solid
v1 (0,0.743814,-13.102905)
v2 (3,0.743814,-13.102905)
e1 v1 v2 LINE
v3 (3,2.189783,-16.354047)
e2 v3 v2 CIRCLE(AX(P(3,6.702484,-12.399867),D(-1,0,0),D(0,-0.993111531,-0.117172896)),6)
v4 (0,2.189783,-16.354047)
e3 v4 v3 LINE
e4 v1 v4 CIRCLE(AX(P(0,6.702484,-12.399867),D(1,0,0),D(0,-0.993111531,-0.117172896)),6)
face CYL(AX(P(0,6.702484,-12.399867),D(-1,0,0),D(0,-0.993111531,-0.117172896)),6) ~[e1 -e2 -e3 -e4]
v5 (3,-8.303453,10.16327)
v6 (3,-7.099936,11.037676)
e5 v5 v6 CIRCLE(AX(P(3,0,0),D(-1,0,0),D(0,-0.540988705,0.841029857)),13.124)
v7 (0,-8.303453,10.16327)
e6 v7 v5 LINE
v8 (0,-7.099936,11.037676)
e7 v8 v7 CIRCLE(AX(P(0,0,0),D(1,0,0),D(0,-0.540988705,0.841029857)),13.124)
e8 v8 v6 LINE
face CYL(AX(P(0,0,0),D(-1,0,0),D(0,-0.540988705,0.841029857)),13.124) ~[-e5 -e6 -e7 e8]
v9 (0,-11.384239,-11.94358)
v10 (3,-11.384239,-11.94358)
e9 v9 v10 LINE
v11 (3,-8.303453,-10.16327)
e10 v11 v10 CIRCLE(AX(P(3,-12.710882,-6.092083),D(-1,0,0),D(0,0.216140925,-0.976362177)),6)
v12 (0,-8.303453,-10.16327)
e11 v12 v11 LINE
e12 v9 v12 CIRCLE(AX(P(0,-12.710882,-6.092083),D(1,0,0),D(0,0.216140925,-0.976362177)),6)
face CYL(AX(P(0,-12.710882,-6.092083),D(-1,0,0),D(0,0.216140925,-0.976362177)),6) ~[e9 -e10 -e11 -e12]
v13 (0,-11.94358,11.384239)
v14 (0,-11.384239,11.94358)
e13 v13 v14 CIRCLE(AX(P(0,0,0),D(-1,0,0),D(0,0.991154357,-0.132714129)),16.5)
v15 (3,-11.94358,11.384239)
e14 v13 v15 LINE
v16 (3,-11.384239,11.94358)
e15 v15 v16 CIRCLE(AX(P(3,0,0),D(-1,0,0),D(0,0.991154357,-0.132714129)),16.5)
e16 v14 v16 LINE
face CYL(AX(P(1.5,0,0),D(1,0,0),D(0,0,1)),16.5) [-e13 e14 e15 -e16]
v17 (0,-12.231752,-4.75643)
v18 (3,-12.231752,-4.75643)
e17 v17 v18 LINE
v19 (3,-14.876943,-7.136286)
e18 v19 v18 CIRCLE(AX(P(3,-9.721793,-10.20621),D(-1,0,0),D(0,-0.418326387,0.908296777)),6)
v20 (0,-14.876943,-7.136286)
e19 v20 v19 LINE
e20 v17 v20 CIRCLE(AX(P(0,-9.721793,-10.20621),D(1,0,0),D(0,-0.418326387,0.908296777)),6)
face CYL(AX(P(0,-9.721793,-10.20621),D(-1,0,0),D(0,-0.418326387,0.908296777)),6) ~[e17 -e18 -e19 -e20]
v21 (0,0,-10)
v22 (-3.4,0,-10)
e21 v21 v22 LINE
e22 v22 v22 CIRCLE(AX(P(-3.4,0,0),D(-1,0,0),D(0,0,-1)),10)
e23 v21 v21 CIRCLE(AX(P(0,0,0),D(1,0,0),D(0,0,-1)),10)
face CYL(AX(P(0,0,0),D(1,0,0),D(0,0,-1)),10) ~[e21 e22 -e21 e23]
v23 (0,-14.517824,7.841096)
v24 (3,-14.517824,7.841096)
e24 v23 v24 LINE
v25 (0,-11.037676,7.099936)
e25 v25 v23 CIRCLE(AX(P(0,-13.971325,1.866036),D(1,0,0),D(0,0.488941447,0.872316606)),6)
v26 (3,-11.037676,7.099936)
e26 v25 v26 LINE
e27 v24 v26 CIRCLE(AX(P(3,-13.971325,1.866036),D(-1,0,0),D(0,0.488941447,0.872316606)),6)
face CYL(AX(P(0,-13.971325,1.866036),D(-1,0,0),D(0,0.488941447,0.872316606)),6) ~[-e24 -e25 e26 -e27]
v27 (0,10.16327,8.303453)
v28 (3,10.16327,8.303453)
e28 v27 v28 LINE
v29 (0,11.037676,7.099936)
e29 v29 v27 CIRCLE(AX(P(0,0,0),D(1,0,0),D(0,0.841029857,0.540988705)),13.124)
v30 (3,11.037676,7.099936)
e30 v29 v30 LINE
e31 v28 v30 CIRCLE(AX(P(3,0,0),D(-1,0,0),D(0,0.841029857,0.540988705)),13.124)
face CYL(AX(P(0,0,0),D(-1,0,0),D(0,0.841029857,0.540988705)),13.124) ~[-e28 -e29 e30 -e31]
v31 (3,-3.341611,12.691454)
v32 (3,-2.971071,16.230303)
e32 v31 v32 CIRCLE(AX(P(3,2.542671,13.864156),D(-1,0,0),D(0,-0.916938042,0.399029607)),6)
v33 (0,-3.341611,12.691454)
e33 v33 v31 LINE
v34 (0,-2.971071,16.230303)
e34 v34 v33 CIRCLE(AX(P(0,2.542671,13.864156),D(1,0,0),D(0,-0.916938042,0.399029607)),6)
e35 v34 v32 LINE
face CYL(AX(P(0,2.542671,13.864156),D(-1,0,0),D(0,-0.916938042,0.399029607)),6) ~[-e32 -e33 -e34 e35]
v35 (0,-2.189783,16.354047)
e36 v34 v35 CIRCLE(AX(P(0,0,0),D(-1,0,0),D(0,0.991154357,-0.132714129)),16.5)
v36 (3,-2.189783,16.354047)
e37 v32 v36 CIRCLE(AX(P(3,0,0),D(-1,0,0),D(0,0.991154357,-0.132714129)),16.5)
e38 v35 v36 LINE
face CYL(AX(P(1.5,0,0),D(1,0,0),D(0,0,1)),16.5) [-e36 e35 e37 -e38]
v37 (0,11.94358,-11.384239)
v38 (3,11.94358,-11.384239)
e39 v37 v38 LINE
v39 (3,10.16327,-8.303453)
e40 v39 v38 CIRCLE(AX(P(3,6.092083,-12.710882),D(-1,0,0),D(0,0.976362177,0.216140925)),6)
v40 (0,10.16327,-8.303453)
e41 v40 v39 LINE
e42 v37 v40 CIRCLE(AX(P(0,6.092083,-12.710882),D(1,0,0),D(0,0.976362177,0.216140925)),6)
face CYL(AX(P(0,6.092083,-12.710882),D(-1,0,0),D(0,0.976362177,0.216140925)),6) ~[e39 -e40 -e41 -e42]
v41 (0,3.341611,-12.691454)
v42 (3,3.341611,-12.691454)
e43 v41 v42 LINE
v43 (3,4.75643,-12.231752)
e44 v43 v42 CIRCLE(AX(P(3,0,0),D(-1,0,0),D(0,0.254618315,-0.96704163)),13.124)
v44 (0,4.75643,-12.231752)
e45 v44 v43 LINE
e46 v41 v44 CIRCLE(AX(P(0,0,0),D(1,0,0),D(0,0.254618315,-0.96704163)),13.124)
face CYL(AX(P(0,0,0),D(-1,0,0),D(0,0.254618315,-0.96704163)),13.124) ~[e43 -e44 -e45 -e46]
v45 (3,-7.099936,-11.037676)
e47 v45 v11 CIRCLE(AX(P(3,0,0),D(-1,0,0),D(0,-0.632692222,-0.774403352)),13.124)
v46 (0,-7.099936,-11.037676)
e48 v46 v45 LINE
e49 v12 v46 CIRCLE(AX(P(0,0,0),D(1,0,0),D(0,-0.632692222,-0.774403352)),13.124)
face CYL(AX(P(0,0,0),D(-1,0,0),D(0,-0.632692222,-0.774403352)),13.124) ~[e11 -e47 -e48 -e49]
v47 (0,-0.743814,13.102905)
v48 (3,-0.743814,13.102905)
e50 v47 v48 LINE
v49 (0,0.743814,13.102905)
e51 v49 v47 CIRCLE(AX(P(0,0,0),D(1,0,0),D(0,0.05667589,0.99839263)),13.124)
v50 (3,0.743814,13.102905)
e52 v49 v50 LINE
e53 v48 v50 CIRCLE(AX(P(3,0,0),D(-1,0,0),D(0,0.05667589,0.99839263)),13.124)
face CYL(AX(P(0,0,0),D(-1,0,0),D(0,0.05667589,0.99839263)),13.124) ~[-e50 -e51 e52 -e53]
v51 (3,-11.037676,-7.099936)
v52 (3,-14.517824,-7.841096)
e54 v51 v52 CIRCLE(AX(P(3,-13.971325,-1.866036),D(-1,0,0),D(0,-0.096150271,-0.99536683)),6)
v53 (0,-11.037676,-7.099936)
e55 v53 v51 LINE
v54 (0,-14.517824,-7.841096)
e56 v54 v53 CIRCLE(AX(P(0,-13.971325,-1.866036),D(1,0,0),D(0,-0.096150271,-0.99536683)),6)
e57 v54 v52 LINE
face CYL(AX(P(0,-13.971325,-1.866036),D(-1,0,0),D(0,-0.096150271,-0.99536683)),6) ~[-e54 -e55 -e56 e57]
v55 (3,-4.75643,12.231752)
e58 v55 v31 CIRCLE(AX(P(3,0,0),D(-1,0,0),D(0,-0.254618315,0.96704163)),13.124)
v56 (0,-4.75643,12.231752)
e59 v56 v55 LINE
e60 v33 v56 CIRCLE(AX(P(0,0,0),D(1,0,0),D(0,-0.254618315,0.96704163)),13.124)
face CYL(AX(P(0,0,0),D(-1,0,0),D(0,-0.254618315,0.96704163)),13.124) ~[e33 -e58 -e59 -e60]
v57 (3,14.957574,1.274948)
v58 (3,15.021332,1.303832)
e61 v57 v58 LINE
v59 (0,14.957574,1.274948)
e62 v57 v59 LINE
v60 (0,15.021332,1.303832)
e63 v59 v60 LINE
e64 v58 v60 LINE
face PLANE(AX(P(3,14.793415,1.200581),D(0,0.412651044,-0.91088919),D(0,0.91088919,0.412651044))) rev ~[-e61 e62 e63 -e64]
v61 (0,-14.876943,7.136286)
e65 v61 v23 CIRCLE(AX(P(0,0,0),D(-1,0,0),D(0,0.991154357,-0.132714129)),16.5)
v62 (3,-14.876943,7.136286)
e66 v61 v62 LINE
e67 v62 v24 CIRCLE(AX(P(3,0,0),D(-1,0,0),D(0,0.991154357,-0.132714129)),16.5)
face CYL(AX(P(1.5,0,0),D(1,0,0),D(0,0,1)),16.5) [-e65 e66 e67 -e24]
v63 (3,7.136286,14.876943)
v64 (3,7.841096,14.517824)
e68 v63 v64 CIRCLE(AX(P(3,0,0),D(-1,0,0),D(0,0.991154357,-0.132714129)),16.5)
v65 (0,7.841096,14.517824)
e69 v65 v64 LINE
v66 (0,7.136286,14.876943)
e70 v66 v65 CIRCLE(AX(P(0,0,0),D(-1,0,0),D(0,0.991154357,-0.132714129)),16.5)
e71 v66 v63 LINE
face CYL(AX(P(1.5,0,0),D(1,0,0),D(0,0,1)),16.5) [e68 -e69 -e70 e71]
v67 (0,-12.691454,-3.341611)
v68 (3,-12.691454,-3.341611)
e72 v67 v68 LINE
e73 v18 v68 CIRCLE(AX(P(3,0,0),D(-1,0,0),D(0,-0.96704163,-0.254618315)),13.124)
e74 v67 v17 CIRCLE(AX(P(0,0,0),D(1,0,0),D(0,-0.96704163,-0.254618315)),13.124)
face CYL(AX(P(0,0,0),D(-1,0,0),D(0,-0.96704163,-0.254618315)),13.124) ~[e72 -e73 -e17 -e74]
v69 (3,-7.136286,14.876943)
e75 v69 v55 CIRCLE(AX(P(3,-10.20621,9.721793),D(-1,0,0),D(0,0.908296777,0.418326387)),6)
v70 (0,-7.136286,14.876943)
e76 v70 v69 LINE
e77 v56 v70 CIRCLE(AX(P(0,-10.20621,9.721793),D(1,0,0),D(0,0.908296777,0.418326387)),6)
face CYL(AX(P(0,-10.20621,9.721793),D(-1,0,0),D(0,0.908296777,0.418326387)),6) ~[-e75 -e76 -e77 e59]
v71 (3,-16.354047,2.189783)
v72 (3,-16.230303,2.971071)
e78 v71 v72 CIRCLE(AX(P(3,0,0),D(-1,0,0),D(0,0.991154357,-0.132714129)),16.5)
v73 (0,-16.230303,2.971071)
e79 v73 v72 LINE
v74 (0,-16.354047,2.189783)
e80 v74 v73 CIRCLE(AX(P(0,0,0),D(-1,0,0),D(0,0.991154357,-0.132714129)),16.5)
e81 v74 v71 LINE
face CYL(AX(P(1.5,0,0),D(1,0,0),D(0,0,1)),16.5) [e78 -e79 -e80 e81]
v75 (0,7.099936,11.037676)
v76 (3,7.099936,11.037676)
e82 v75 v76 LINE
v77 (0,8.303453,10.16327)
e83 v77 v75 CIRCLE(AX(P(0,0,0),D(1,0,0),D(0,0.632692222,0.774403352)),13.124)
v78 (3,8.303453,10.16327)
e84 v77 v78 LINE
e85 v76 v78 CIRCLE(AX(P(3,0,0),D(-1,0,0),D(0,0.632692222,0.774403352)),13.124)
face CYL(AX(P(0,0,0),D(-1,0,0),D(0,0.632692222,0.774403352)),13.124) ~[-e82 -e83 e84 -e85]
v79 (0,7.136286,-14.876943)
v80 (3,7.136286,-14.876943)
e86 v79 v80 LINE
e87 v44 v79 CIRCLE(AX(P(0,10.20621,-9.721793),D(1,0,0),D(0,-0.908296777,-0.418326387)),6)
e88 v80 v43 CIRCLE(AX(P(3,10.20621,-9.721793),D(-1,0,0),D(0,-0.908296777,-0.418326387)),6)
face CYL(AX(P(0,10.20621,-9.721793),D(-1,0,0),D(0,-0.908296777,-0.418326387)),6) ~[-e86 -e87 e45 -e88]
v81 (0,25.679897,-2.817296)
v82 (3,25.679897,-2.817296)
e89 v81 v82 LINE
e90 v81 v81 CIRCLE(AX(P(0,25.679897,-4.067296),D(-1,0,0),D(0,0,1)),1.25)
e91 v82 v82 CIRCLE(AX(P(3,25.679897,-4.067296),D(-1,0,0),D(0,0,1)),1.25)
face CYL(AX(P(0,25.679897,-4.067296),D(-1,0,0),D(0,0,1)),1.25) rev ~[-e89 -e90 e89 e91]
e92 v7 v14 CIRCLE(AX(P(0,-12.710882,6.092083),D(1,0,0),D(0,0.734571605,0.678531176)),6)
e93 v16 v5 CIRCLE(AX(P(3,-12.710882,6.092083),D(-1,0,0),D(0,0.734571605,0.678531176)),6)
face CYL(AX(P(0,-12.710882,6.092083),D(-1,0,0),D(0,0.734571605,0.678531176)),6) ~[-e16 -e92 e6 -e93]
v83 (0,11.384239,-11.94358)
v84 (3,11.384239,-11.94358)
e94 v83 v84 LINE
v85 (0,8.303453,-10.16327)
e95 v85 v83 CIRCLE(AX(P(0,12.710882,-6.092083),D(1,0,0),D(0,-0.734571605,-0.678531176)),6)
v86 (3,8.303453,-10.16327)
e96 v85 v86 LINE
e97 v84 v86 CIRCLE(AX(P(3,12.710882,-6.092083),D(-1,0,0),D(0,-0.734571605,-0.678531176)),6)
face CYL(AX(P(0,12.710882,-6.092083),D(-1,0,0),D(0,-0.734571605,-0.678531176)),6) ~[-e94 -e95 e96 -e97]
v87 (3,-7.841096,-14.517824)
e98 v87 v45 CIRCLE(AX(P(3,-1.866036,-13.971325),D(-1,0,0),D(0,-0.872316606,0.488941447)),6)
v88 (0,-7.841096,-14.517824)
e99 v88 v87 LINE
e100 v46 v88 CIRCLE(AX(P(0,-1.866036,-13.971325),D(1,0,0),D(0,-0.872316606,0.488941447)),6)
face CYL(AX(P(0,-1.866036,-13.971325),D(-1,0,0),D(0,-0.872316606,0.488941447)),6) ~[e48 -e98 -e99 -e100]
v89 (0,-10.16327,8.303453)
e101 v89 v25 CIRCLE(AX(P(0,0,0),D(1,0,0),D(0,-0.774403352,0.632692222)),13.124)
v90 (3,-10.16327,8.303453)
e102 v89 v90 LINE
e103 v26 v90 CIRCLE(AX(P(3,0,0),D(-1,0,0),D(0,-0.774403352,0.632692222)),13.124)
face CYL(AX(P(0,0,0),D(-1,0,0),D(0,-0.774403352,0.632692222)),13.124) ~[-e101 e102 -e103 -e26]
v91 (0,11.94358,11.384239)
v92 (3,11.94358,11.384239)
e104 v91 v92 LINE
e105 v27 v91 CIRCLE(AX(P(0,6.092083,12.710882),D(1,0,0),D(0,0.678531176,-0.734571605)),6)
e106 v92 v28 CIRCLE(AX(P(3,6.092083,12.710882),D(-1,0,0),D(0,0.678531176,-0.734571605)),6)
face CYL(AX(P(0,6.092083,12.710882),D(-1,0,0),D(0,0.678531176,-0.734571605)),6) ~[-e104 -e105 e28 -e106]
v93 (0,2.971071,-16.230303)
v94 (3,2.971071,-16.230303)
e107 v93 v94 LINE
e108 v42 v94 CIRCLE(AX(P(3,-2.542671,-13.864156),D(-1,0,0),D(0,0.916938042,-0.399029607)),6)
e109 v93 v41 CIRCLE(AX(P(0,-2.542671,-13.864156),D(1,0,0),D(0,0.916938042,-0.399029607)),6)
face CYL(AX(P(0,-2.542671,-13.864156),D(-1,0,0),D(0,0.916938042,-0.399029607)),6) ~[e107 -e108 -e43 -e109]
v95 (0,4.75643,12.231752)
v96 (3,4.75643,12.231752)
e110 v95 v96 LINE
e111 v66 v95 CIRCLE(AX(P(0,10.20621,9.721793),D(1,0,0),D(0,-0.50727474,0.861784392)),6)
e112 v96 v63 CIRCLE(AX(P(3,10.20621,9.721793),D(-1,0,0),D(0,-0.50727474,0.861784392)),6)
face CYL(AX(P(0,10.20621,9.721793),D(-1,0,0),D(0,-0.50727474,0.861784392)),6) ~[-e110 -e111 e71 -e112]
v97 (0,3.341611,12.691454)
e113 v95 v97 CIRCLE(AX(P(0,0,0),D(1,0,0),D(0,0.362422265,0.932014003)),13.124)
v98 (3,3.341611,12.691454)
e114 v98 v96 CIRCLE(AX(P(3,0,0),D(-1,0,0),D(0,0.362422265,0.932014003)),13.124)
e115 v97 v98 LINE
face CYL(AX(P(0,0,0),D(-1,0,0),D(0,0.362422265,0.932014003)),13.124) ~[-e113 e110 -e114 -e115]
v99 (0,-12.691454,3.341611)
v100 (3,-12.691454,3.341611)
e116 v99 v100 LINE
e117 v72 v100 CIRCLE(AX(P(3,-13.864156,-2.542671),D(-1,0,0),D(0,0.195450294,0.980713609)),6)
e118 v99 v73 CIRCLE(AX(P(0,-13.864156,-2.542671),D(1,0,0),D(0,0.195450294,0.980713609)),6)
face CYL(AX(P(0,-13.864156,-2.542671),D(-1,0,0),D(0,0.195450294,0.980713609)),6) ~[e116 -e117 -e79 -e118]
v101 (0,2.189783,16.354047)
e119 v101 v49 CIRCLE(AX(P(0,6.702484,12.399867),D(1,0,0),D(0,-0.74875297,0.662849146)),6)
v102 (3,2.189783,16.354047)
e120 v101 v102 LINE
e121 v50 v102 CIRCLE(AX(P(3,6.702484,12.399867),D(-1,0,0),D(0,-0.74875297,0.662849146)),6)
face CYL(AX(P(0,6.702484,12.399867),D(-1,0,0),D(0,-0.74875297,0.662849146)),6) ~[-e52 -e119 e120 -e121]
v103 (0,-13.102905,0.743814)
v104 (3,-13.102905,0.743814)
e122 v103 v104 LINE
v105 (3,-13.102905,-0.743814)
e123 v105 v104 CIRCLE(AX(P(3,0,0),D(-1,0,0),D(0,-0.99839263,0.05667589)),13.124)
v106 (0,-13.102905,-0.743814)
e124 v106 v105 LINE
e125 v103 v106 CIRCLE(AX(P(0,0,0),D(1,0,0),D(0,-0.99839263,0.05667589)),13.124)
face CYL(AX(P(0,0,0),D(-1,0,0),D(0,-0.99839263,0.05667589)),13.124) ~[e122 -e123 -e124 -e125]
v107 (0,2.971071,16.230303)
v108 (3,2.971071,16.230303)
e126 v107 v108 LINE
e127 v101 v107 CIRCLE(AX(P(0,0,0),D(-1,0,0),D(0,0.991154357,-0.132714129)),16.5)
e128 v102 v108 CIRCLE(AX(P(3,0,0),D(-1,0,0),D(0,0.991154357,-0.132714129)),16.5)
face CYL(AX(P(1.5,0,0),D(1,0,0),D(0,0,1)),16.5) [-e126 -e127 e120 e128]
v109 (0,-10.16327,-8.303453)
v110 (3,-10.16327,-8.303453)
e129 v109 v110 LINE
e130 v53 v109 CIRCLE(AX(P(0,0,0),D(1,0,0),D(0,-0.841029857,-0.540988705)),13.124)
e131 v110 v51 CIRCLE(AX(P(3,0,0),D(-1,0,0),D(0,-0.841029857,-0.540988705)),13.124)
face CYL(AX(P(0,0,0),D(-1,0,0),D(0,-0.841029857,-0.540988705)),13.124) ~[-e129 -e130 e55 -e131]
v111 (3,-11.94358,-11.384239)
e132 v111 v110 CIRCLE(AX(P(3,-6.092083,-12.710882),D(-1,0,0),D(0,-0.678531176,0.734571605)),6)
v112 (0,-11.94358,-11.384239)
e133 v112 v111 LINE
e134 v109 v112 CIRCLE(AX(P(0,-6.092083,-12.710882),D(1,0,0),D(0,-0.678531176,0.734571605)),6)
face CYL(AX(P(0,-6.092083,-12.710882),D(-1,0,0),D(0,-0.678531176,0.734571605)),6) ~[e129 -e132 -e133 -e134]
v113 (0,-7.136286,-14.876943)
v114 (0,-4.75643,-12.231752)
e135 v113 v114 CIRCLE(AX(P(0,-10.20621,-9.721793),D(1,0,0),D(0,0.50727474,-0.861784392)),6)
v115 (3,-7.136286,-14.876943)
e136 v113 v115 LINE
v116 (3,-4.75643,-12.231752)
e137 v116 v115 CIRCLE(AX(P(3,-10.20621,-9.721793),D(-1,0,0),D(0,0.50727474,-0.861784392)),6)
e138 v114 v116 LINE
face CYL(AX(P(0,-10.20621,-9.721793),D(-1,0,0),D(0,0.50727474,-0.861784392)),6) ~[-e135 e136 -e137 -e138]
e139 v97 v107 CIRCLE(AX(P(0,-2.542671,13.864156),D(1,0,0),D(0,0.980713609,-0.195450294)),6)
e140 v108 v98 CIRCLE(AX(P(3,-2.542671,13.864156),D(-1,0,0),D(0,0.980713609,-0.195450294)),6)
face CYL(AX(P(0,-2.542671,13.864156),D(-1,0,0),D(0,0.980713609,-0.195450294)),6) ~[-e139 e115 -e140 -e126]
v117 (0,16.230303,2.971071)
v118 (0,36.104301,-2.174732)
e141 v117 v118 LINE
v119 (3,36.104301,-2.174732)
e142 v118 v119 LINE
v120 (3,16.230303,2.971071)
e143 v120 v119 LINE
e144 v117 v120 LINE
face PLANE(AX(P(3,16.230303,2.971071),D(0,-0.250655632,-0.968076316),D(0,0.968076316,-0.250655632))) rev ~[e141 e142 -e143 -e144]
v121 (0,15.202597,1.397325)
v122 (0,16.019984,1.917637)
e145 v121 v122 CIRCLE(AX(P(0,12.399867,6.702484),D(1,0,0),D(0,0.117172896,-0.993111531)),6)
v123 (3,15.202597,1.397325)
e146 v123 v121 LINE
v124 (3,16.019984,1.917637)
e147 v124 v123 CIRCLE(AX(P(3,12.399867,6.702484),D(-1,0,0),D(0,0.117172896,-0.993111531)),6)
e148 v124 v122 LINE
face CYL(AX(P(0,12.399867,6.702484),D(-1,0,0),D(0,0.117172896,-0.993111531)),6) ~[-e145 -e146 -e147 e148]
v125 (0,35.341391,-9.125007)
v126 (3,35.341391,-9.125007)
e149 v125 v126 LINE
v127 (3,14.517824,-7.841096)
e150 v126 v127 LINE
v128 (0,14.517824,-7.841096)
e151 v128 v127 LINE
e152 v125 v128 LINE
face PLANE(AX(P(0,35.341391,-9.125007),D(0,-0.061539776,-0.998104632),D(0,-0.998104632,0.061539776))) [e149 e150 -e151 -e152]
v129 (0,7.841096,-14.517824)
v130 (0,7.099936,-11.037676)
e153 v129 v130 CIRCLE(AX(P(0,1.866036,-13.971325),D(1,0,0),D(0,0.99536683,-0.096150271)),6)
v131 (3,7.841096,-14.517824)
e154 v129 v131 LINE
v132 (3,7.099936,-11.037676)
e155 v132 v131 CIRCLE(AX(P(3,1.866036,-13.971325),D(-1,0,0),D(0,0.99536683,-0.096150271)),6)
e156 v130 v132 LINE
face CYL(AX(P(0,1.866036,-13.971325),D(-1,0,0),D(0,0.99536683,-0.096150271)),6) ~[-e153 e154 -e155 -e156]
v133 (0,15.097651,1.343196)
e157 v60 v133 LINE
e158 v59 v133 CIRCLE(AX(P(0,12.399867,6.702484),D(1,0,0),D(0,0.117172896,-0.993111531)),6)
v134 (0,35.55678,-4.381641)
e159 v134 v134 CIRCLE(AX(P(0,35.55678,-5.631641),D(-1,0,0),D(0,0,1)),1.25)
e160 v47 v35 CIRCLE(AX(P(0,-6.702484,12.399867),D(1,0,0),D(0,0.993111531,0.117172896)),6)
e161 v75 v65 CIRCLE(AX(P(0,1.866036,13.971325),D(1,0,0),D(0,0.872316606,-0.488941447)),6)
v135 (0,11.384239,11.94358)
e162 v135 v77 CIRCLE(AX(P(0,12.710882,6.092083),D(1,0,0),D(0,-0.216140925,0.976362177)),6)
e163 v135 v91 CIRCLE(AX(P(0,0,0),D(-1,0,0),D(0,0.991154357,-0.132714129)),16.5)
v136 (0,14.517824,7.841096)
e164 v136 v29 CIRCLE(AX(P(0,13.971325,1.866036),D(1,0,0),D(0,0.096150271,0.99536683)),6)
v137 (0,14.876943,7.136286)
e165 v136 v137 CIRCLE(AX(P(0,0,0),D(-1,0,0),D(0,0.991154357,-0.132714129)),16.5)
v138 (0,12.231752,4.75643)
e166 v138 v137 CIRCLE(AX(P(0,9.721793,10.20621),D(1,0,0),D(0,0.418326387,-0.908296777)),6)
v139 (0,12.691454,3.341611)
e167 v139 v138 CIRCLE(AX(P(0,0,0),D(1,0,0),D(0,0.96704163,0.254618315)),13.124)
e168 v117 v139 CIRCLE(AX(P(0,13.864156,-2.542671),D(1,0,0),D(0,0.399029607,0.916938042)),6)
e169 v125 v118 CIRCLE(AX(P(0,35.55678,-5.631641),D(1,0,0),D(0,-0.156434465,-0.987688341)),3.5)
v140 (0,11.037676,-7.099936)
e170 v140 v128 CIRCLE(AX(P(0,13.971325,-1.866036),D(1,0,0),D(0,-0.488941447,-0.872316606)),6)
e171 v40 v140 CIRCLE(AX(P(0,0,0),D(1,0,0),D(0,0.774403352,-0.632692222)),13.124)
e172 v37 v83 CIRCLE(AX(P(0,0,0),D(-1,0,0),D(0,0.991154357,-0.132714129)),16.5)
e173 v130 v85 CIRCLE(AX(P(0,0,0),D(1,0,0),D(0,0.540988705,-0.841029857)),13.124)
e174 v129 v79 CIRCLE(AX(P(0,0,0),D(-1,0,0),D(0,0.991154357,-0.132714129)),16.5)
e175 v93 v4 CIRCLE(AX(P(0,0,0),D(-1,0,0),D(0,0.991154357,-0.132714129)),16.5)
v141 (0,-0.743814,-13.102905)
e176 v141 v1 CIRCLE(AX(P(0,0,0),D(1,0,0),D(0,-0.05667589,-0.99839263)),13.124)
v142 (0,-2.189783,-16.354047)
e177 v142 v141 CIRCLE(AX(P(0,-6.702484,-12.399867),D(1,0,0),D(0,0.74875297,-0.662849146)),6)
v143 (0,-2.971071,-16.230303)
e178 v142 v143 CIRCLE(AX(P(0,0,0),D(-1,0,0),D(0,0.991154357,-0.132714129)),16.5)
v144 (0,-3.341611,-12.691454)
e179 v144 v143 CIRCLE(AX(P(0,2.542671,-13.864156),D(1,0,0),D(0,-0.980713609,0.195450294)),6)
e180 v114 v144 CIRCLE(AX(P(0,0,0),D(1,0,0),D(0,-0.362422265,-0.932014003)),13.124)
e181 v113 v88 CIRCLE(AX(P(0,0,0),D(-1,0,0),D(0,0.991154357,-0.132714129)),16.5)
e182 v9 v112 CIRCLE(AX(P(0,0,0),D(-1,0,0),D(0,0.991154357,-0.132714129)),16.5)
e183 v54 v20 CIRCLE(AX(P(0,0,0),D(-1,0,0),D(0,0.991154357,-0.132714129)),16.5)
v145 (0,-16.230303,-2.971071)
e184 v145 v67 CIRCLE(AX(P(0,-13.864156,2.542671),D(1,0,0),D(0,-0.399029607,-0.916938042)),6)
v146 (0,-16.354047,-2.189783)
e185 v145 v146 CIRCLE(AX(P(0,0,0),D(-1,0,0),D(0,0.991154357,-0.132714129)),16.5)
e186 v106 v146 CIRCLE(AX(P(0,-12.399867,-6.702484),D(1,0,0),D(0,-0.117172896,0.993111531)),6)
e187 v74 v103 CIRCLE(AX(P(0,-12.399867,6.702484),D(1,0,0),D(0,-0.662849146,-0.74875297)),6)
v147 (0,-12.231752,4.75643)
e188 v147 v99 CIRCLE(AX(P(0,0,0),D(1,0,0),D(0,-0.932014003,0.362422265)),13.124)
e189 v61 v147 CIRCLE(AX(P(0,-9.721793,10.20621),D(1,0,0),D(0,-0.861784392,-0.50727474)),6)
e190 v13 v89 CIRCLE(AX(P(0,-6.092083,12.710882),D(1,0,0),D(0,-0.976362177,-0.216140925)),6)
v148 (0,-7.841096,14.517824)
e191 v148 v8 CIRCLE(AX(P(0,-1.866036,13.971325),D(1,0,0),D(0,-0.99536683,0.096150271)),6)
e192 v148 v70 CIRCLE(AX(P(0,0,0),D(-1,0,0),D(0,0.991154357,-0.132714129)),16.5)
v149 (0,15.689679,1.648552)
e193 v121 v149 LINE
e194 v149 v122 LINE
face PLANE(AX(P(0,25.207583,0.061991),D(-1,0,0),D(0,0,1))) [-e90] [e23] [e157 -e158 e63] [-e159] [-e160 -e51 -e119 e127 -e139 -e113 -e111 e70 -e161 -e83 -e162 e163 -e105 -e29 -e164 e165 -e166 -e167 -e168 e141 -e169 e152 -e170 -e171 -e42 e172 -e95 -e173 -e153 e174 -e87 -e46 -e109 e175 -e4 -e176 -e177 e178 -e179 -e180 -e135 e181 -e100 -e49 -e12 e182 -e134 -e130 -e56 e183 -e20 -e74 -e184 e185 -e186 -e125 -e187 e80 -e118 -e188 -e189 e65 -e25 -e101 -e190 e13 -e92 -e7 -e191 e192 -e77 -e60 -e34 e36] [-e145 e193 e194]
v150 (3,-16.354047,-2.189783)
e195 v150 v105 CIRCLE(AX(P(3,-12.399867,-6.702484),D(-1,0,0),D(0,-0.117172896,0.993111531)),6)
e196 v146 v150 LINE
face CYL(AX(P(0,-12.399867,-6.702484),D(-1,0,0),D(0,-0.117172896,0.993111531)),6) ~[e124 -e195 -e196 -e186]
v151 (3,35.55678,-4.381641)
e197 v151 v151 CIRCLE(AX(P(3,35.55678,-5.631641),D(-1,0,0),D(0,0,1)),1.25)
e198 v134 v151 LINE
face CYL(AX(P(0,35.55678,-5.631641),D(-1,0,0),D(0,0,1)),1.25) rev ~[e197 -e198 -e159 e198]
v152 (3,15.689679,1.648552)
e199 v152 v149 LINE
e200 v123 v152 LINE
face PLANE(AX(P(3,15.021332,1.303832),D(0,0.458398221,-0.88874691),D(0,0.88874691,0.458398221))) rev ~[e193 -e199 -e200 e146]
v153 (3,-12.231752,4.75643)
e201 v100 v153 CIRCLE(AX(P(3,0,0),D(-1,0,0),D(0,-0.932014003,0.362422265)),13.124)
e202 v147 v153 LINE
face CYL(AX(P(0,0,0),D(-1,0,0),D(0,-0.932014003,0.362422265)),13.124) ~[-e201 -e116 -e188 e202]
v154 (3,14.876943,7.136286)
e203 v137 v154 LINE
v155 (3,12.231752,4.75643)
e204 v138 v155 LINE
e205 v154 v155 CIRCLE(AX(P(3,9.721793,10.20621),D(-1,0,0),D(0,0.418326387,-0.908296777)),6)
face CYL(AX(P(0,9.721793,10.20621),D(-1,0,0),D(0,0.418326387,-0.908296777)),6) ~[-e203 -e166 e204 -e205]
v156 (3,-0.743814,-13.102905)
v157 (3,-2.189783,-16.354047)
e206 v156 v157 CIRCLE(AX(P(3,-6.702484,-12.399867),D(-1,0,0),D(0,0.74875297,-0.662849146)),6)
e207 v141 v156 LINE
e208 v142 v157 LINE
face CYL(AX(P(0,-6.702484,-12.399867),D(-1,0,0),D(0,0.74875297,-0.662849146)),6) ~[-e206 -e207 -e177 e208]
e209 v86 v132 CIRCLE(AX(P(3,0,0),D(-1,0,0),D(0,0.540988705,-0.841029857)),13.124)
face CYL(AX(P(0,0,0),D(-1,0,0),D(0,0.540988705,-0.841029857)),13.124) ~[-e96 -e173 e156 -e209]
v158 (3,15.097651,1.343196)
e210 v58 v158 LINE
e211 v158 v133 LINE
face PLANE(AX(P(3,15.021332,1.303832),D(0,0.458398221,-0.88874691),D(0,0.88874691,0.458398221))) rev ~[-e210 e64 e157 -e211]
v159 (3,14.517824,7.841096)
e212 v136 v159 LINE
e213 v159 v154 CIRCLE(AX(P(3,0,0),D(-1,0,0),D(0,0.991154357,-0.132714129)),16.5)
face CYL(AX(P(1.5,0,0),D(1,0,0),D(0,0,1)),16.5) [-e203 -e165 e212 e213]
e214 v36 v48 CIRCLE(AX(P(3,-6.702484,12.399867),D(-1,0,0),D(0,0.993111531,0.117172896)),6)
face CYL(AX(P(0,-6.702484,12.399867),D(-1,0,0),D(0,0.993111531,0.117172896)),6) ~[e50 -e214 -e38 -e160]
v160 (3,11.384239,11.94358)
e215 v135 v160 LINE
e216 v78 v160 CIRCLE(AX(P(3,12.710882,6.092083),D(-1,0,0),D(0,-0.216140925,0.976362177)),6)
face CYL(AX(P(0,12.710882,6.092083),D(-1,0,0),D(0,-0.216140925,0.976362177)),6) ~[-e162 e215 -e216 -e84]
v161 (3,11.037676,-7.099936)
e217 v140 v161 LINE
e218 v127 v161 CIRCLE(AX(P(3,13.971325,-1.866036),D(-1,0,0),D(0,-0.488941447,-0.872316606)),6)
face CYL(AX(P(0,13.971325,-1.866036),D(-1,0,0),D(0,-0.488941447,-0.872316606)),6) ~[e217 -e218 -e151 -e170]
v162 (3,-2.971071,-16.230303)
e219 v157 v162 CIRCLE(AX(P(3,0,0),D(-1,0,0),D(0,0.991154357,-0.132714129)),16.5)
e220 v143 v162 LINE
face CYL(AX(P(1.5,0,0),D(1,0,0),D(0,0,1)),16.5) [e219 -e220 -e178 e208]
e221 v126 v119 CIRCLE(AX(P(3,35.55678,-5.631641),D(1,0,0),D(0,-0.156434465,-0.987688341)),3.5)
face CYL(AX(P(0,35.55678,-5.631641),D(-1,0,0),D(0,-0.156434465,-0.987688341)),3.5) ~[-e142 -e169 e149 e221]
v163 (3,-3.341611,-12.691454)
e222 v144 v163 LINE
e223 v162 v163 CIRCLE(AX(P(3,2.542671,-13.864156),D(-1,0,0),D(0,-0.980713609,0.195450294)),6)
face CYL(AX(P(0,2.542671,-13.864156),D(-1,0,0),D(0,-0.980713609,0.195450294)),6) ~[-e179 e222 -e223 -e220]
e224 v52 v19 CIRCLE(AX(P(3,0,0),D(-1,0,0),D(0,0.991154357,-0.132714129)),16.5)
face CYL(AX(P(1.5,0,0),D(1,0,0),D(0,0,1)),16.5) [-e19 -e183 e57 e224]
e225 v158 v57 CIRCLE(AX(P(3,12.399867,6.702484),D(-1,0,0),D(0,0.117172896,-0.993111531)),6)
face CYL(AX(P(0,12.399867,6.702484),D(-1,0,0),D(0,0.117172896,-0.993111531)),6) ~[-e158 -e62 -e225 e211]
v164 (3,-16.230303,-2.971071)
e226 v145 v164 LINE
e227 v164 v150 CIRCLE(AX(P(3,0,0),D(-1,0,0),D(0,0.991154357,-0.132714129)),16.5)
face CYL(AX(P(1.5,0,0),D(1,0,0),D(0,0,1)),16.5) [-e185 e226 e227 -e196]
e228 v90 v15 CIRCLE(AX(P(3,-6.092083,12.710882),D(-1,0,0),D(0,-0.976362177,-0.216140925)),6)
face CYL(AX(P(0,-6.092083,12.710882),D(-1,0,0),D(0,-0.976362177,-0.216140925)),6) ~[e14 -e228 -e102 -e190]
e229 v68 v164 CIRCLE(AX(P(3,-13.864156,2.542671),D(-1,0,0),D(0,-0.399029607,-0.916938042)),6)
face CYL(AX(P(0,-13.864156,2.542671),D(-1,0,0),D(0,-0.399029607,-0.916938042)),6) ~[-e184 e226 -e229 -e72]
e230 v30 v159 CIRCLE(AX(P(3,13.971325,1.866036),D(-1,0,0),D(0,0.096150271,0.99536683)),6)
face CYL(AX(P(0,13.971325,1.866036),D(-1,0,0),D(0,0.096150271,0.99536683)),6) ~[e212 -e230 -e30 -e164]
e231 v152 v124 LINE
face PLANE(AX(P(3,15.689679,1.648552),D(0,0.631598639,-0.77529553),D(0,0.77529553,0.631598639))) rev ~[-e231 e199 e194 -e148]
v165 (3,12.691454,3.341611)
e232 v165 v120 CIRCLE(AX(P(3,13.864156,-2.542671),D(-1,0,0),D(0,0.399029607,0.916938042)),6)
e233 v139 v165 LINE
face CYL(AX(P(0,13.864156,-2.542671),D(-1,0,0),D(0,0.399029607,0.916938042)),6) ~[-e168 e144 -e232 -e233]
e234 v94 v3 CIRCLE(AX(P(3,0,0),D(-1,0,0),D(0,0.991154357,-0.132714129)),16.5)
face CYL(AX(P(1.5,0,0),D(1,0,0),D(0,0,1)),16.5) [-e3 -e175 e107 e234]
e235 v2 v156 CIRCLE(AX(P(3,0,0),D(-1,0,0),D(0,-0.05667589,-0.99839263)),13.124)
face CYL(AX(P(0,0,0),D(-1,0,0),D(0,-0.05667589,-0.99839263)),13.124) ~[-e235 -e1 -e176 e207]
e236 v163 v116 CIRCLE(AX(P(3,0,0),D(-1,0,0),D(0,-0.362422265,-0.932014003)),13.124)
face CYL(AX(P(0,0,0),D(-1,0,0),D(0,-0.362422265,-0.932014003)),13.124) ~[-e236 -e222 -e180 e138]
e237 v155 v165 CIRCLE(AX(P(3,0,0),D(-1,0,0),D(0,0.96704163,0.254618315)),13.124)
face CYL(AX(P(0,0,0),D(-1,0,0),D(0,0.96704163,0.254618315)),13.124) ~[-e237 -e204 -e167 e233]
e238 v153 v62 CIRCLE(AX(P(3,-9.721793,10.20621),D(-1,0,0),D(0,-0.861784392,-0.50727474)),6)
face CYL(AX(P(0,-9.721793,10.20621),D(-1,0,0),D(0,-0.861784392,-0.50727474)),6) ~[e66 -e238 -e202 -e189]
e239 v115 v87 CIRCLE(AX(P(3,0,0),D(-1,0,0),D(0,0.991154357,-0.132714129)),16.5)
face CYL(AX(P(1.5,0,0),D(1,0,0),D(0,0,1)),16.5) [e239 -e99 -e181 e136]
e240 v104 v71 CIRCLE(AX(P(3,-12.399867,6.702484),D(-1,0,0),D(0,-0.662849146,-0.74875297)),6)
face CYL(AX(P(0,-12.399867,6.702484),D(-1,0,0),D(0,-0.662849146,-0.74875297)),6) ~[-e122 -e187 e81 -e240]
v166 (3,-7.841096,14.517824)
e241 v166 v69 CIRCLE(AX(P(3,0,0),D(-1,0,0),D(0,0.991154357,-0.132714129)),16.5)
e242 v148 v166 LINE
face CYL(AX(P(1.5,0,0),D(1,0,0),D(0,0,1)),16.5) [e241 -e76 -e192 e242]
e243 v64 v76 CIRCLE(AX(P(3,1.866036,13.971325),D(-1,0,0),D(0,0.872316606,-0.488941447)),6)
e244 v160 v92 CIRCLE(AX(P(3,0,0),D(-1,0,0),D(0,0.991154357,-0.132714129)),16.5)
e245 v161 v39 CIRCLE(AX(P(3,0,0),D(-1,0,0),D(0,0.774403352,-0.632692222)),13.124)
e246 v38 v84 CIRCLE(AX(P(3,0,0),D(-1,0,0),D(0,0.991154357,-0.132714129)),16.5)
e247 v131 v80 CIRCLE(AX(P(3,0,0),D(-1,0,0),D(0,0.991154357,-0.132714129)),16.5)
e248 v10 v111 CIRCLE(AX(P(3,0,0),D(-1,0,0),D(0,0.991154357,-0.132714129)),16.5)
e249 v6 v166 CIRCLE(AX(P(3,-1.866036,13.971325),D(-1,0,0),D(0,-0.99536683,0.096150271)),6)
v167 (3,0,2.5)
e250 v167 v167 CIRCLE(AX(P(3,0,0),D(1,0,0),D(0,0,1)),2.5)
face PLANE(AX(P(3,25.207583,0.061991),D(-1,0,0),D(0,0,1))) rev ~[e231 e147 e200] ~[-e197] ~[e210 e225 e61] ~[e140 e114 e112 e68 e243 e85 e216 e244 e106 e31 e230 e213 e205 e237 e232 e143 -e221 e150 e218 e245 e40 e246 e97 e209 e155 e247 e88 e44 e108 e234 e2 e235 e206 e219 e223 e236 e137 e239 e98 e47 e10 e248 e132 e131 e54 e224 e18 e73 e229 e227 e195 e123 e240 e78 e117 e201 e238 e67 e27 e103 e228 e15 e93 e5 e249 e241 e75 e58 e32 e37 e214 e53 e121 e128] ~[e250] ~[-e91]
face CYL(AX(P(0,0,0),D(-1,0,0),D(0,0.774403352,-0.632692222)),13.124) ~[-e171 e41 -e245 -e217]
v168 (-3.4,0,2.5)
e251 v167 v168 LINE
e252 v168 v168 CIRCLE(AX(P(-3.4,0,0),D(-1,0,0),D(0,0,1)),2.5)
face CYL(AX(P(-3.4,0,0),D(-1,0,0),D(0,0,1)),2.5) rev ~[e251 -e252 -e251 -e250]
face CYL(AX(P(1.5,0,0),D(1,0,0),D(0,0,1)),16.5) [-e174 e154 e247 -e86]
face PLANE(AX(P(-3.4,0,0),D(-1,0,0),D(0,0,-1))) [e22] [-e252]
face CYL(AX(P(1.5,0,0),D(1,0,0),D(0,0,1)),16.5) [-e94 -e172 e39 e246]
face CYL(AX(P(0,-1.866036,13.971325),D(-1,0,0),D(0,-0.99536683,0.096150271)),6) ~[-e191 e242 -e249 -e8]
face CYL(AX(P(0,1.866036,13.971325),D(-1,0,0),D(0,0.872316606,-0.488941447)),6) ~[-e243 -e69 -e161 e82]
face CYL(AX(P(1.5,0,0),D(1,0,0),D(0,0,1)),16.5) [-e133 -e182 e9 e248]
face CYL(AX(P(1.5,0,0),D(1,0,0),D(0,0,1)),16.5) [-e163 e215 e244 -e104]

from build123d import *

# Parameters (mm, degrees)
BASPROSKE_W         = 3
BASPROSKE_H         = 16.5
TOOTHCUT_DEPTH      = 24.526580712
TEETHCUTS_COUNT     = 20
TEETHCUTS_ANGLE     = 342
SKETCH_3_R          = 2.5
CUT_EXTRUDE_2_DEPTH = 10
SKETCH_4_R          = 10
EXTRUDE_4_DEPTH     = 3.4
SKETCH_6_R          = 2.5
CUT_EXTRUDE_3_DEPTH = 24.997285258
SKETCH_2_R          = 1.25
EXTRUDE_5_DEPTH     = 3
SKETCH_7_R          = 2.5
CUT_EXTRUDE_4_DEPTH = 43.823439076
EXTRUDE_6_DEPTH     = 3
EXTRUDE_START       = -3
EXTRUDE_14_DEPTH    = 3


with BuildPart() as part:
    # BasProSke → Base-Revolve (revolve)
    with BuildSketch(Plane(origin=(0, 0, 0), x_dir=(1, 0, 0), z_dir=(0, 1, 0)), mode=Mode.PRIVATE) as base_revolve_sk:
        with Locations((1.5, 8.25)):
            Rectangle(BASPROSKE_W, BASPROSKE_H)
    revolve(base_revolve_sk.sketch.rotate(Axis((-10, 0, 0), (1, 0, 0)), 180), axis=Axis((-10, 0, 0), (1, 0, 0)))

    # TooCutSke → ToothCut (cut, through all)
    with BuildSketch(Plane(origin=(0, 0, 0), x_dir=(0, 0, -1), z_dir=(1, 0, 0))):
        with BuildLine():
            ThreePointArc((0.74381438, 13.102904875), (0, 13.124), (-0.74381438, 13.102904875))
            ThreePointArc((-0.74381438, 13.102904875), (-1.226473103, 14.852072512), (-2.209965745, 16.376962373))
            ThreePointArc((-2.209965745, 16.376962373), (0, 16.5254), (2.209965745, 16.376962373))
            ThreePointArc((2.209965745, 16.376962373), (1.226473103, 14.852072512), (0.74381438, 13.102904875))
        make_face()
    toothcut = extrude(amount=TOOTHCUT_DEPTH, mode=Mode.SUBTRACT)

    # TeethCuts: ToothCut ×20 about axis
    teethcuts_axis = Axis((-10, 0, 0), (1, 0, 0))
    for i in range(1, TEETHCUTS_COUNT):
        add(toothcut.rotate(teethcuts_axis, i * TEETHCUTS_ANGLE / (TEETHCUTS_COUNT - 1)), mode=Mode.SUBTRACT)

    # 草图3 → 切除-拉伸2 (cut)
    with BuildSketch(Plane.ZY):
        Circle(SKETCH_3_R)
        with Locations((0, 27)):
            Circle(SKETCH_3_R)
    extrude(amount=-CUT_EXTRUDE_2_DEPTH, mode=Mode.SUBTRACT)

    # 草图4 → 凸台-拉伸4 (add)
    with BuildSketch(Plane.ZY):
        with Locations(Location((0, 0, 0), (0, 0, 180))):
            Circle(SKETCH_4_R)
    extrude(amount=EXTRUDE_4_DEPTH)

    # 草图6 → 切除-拉伸3 (cut, through all)
    with BuildSketch(Plane.ZY.offset(3.4)):
        Circle(SKETCH_6_R)
    extrude(amount=-CUT_EXTRUDE_3_DEPTH, mode=Mode.SUBTRACT)

    # 草图2 → 凸台-拉伸5 (add)
    with BuildSketch(Plane.ZY):
        with BuildLine():
            Line((-3.456909192, -0.547520628), (-9.088549934, 35.009259634))
            ThreePointArc((-9.088549934, 35.009259634), (-6.179161369, 39.013689454), (-2.174731549, 36.104300889))
            Line((-2.174731549, 36.104300889), (3.456909192, 0.547520628))
            ThreePointArc((3.456909192, 0.547520628), (0.547520628, -3.456909192), (-3.456909192, -0.547520628))
        make_face()
        with Locations((-4.067296091, 25.679896855)):
            Circle(SKETCH_2_R, mode=Mode.SUBTRACT)
        with Locations((-5.631640741, 35.556780261)):
            Circle(SKETCH_2_R, mode=Mode.SUBTRACT)
    extrude(amount=-EXTRUDE_5_DEPTH)

    # 草图7 → 切除-拉伸4 (cut, through all)
    with BuildSketch(Plane(origin=(3, 0, 0), x_dir=(0, 0, -1), z_dir=(1, 0, 0))):
        with Locations(Location((0, 0, 0), (0, 0, 180))):
            Circle(SKETCH_7_R)
    extrude(amount=-CUT_EXTRUDE_4_DEPTH, mode=Mode.SUBTRACT)

    # 草图8 → 凸台-拉伸6 (add)
    with BuildSketch(Plane.ZY):
        Polygon((-7.841095822, 14.51782409), (-7.136285925, 14.87694267), (-5.713237213, 13.698373831), (-9.125006953, 35.341391045), align=None)
    extrude(amount=-EXTRUDE_6_DEPTH)

    # 草图9 → 凸台-拉伸14 (add)
    with BuildSketch(Plane.ZY.offset(EXTRUDE_START)):
        with BuildLine():
            Line((2.971070911, 16.230303067), (-2.174731549, 36.104300889))
            Line((-2.174731549, 36.104300889), (1.200581171, 14.793415086))
            Line((1.200581171, 14.793415086), (1.303832307, 15.021332463))
            Line((1.303832307, 15.021332463), (1.648552458, 15.68967923))
            Line((1.648552458, 15.68967923), (2.189783121, 16.354046896))
            ThreePointArc((2.189783121, 16.354046896), (2.581168673, 16.29685762), (2.971070911, 16.230303067))
        make_face()
    extrude(amount=EXTRUDE_14_DEPTH)


solid = part.part
